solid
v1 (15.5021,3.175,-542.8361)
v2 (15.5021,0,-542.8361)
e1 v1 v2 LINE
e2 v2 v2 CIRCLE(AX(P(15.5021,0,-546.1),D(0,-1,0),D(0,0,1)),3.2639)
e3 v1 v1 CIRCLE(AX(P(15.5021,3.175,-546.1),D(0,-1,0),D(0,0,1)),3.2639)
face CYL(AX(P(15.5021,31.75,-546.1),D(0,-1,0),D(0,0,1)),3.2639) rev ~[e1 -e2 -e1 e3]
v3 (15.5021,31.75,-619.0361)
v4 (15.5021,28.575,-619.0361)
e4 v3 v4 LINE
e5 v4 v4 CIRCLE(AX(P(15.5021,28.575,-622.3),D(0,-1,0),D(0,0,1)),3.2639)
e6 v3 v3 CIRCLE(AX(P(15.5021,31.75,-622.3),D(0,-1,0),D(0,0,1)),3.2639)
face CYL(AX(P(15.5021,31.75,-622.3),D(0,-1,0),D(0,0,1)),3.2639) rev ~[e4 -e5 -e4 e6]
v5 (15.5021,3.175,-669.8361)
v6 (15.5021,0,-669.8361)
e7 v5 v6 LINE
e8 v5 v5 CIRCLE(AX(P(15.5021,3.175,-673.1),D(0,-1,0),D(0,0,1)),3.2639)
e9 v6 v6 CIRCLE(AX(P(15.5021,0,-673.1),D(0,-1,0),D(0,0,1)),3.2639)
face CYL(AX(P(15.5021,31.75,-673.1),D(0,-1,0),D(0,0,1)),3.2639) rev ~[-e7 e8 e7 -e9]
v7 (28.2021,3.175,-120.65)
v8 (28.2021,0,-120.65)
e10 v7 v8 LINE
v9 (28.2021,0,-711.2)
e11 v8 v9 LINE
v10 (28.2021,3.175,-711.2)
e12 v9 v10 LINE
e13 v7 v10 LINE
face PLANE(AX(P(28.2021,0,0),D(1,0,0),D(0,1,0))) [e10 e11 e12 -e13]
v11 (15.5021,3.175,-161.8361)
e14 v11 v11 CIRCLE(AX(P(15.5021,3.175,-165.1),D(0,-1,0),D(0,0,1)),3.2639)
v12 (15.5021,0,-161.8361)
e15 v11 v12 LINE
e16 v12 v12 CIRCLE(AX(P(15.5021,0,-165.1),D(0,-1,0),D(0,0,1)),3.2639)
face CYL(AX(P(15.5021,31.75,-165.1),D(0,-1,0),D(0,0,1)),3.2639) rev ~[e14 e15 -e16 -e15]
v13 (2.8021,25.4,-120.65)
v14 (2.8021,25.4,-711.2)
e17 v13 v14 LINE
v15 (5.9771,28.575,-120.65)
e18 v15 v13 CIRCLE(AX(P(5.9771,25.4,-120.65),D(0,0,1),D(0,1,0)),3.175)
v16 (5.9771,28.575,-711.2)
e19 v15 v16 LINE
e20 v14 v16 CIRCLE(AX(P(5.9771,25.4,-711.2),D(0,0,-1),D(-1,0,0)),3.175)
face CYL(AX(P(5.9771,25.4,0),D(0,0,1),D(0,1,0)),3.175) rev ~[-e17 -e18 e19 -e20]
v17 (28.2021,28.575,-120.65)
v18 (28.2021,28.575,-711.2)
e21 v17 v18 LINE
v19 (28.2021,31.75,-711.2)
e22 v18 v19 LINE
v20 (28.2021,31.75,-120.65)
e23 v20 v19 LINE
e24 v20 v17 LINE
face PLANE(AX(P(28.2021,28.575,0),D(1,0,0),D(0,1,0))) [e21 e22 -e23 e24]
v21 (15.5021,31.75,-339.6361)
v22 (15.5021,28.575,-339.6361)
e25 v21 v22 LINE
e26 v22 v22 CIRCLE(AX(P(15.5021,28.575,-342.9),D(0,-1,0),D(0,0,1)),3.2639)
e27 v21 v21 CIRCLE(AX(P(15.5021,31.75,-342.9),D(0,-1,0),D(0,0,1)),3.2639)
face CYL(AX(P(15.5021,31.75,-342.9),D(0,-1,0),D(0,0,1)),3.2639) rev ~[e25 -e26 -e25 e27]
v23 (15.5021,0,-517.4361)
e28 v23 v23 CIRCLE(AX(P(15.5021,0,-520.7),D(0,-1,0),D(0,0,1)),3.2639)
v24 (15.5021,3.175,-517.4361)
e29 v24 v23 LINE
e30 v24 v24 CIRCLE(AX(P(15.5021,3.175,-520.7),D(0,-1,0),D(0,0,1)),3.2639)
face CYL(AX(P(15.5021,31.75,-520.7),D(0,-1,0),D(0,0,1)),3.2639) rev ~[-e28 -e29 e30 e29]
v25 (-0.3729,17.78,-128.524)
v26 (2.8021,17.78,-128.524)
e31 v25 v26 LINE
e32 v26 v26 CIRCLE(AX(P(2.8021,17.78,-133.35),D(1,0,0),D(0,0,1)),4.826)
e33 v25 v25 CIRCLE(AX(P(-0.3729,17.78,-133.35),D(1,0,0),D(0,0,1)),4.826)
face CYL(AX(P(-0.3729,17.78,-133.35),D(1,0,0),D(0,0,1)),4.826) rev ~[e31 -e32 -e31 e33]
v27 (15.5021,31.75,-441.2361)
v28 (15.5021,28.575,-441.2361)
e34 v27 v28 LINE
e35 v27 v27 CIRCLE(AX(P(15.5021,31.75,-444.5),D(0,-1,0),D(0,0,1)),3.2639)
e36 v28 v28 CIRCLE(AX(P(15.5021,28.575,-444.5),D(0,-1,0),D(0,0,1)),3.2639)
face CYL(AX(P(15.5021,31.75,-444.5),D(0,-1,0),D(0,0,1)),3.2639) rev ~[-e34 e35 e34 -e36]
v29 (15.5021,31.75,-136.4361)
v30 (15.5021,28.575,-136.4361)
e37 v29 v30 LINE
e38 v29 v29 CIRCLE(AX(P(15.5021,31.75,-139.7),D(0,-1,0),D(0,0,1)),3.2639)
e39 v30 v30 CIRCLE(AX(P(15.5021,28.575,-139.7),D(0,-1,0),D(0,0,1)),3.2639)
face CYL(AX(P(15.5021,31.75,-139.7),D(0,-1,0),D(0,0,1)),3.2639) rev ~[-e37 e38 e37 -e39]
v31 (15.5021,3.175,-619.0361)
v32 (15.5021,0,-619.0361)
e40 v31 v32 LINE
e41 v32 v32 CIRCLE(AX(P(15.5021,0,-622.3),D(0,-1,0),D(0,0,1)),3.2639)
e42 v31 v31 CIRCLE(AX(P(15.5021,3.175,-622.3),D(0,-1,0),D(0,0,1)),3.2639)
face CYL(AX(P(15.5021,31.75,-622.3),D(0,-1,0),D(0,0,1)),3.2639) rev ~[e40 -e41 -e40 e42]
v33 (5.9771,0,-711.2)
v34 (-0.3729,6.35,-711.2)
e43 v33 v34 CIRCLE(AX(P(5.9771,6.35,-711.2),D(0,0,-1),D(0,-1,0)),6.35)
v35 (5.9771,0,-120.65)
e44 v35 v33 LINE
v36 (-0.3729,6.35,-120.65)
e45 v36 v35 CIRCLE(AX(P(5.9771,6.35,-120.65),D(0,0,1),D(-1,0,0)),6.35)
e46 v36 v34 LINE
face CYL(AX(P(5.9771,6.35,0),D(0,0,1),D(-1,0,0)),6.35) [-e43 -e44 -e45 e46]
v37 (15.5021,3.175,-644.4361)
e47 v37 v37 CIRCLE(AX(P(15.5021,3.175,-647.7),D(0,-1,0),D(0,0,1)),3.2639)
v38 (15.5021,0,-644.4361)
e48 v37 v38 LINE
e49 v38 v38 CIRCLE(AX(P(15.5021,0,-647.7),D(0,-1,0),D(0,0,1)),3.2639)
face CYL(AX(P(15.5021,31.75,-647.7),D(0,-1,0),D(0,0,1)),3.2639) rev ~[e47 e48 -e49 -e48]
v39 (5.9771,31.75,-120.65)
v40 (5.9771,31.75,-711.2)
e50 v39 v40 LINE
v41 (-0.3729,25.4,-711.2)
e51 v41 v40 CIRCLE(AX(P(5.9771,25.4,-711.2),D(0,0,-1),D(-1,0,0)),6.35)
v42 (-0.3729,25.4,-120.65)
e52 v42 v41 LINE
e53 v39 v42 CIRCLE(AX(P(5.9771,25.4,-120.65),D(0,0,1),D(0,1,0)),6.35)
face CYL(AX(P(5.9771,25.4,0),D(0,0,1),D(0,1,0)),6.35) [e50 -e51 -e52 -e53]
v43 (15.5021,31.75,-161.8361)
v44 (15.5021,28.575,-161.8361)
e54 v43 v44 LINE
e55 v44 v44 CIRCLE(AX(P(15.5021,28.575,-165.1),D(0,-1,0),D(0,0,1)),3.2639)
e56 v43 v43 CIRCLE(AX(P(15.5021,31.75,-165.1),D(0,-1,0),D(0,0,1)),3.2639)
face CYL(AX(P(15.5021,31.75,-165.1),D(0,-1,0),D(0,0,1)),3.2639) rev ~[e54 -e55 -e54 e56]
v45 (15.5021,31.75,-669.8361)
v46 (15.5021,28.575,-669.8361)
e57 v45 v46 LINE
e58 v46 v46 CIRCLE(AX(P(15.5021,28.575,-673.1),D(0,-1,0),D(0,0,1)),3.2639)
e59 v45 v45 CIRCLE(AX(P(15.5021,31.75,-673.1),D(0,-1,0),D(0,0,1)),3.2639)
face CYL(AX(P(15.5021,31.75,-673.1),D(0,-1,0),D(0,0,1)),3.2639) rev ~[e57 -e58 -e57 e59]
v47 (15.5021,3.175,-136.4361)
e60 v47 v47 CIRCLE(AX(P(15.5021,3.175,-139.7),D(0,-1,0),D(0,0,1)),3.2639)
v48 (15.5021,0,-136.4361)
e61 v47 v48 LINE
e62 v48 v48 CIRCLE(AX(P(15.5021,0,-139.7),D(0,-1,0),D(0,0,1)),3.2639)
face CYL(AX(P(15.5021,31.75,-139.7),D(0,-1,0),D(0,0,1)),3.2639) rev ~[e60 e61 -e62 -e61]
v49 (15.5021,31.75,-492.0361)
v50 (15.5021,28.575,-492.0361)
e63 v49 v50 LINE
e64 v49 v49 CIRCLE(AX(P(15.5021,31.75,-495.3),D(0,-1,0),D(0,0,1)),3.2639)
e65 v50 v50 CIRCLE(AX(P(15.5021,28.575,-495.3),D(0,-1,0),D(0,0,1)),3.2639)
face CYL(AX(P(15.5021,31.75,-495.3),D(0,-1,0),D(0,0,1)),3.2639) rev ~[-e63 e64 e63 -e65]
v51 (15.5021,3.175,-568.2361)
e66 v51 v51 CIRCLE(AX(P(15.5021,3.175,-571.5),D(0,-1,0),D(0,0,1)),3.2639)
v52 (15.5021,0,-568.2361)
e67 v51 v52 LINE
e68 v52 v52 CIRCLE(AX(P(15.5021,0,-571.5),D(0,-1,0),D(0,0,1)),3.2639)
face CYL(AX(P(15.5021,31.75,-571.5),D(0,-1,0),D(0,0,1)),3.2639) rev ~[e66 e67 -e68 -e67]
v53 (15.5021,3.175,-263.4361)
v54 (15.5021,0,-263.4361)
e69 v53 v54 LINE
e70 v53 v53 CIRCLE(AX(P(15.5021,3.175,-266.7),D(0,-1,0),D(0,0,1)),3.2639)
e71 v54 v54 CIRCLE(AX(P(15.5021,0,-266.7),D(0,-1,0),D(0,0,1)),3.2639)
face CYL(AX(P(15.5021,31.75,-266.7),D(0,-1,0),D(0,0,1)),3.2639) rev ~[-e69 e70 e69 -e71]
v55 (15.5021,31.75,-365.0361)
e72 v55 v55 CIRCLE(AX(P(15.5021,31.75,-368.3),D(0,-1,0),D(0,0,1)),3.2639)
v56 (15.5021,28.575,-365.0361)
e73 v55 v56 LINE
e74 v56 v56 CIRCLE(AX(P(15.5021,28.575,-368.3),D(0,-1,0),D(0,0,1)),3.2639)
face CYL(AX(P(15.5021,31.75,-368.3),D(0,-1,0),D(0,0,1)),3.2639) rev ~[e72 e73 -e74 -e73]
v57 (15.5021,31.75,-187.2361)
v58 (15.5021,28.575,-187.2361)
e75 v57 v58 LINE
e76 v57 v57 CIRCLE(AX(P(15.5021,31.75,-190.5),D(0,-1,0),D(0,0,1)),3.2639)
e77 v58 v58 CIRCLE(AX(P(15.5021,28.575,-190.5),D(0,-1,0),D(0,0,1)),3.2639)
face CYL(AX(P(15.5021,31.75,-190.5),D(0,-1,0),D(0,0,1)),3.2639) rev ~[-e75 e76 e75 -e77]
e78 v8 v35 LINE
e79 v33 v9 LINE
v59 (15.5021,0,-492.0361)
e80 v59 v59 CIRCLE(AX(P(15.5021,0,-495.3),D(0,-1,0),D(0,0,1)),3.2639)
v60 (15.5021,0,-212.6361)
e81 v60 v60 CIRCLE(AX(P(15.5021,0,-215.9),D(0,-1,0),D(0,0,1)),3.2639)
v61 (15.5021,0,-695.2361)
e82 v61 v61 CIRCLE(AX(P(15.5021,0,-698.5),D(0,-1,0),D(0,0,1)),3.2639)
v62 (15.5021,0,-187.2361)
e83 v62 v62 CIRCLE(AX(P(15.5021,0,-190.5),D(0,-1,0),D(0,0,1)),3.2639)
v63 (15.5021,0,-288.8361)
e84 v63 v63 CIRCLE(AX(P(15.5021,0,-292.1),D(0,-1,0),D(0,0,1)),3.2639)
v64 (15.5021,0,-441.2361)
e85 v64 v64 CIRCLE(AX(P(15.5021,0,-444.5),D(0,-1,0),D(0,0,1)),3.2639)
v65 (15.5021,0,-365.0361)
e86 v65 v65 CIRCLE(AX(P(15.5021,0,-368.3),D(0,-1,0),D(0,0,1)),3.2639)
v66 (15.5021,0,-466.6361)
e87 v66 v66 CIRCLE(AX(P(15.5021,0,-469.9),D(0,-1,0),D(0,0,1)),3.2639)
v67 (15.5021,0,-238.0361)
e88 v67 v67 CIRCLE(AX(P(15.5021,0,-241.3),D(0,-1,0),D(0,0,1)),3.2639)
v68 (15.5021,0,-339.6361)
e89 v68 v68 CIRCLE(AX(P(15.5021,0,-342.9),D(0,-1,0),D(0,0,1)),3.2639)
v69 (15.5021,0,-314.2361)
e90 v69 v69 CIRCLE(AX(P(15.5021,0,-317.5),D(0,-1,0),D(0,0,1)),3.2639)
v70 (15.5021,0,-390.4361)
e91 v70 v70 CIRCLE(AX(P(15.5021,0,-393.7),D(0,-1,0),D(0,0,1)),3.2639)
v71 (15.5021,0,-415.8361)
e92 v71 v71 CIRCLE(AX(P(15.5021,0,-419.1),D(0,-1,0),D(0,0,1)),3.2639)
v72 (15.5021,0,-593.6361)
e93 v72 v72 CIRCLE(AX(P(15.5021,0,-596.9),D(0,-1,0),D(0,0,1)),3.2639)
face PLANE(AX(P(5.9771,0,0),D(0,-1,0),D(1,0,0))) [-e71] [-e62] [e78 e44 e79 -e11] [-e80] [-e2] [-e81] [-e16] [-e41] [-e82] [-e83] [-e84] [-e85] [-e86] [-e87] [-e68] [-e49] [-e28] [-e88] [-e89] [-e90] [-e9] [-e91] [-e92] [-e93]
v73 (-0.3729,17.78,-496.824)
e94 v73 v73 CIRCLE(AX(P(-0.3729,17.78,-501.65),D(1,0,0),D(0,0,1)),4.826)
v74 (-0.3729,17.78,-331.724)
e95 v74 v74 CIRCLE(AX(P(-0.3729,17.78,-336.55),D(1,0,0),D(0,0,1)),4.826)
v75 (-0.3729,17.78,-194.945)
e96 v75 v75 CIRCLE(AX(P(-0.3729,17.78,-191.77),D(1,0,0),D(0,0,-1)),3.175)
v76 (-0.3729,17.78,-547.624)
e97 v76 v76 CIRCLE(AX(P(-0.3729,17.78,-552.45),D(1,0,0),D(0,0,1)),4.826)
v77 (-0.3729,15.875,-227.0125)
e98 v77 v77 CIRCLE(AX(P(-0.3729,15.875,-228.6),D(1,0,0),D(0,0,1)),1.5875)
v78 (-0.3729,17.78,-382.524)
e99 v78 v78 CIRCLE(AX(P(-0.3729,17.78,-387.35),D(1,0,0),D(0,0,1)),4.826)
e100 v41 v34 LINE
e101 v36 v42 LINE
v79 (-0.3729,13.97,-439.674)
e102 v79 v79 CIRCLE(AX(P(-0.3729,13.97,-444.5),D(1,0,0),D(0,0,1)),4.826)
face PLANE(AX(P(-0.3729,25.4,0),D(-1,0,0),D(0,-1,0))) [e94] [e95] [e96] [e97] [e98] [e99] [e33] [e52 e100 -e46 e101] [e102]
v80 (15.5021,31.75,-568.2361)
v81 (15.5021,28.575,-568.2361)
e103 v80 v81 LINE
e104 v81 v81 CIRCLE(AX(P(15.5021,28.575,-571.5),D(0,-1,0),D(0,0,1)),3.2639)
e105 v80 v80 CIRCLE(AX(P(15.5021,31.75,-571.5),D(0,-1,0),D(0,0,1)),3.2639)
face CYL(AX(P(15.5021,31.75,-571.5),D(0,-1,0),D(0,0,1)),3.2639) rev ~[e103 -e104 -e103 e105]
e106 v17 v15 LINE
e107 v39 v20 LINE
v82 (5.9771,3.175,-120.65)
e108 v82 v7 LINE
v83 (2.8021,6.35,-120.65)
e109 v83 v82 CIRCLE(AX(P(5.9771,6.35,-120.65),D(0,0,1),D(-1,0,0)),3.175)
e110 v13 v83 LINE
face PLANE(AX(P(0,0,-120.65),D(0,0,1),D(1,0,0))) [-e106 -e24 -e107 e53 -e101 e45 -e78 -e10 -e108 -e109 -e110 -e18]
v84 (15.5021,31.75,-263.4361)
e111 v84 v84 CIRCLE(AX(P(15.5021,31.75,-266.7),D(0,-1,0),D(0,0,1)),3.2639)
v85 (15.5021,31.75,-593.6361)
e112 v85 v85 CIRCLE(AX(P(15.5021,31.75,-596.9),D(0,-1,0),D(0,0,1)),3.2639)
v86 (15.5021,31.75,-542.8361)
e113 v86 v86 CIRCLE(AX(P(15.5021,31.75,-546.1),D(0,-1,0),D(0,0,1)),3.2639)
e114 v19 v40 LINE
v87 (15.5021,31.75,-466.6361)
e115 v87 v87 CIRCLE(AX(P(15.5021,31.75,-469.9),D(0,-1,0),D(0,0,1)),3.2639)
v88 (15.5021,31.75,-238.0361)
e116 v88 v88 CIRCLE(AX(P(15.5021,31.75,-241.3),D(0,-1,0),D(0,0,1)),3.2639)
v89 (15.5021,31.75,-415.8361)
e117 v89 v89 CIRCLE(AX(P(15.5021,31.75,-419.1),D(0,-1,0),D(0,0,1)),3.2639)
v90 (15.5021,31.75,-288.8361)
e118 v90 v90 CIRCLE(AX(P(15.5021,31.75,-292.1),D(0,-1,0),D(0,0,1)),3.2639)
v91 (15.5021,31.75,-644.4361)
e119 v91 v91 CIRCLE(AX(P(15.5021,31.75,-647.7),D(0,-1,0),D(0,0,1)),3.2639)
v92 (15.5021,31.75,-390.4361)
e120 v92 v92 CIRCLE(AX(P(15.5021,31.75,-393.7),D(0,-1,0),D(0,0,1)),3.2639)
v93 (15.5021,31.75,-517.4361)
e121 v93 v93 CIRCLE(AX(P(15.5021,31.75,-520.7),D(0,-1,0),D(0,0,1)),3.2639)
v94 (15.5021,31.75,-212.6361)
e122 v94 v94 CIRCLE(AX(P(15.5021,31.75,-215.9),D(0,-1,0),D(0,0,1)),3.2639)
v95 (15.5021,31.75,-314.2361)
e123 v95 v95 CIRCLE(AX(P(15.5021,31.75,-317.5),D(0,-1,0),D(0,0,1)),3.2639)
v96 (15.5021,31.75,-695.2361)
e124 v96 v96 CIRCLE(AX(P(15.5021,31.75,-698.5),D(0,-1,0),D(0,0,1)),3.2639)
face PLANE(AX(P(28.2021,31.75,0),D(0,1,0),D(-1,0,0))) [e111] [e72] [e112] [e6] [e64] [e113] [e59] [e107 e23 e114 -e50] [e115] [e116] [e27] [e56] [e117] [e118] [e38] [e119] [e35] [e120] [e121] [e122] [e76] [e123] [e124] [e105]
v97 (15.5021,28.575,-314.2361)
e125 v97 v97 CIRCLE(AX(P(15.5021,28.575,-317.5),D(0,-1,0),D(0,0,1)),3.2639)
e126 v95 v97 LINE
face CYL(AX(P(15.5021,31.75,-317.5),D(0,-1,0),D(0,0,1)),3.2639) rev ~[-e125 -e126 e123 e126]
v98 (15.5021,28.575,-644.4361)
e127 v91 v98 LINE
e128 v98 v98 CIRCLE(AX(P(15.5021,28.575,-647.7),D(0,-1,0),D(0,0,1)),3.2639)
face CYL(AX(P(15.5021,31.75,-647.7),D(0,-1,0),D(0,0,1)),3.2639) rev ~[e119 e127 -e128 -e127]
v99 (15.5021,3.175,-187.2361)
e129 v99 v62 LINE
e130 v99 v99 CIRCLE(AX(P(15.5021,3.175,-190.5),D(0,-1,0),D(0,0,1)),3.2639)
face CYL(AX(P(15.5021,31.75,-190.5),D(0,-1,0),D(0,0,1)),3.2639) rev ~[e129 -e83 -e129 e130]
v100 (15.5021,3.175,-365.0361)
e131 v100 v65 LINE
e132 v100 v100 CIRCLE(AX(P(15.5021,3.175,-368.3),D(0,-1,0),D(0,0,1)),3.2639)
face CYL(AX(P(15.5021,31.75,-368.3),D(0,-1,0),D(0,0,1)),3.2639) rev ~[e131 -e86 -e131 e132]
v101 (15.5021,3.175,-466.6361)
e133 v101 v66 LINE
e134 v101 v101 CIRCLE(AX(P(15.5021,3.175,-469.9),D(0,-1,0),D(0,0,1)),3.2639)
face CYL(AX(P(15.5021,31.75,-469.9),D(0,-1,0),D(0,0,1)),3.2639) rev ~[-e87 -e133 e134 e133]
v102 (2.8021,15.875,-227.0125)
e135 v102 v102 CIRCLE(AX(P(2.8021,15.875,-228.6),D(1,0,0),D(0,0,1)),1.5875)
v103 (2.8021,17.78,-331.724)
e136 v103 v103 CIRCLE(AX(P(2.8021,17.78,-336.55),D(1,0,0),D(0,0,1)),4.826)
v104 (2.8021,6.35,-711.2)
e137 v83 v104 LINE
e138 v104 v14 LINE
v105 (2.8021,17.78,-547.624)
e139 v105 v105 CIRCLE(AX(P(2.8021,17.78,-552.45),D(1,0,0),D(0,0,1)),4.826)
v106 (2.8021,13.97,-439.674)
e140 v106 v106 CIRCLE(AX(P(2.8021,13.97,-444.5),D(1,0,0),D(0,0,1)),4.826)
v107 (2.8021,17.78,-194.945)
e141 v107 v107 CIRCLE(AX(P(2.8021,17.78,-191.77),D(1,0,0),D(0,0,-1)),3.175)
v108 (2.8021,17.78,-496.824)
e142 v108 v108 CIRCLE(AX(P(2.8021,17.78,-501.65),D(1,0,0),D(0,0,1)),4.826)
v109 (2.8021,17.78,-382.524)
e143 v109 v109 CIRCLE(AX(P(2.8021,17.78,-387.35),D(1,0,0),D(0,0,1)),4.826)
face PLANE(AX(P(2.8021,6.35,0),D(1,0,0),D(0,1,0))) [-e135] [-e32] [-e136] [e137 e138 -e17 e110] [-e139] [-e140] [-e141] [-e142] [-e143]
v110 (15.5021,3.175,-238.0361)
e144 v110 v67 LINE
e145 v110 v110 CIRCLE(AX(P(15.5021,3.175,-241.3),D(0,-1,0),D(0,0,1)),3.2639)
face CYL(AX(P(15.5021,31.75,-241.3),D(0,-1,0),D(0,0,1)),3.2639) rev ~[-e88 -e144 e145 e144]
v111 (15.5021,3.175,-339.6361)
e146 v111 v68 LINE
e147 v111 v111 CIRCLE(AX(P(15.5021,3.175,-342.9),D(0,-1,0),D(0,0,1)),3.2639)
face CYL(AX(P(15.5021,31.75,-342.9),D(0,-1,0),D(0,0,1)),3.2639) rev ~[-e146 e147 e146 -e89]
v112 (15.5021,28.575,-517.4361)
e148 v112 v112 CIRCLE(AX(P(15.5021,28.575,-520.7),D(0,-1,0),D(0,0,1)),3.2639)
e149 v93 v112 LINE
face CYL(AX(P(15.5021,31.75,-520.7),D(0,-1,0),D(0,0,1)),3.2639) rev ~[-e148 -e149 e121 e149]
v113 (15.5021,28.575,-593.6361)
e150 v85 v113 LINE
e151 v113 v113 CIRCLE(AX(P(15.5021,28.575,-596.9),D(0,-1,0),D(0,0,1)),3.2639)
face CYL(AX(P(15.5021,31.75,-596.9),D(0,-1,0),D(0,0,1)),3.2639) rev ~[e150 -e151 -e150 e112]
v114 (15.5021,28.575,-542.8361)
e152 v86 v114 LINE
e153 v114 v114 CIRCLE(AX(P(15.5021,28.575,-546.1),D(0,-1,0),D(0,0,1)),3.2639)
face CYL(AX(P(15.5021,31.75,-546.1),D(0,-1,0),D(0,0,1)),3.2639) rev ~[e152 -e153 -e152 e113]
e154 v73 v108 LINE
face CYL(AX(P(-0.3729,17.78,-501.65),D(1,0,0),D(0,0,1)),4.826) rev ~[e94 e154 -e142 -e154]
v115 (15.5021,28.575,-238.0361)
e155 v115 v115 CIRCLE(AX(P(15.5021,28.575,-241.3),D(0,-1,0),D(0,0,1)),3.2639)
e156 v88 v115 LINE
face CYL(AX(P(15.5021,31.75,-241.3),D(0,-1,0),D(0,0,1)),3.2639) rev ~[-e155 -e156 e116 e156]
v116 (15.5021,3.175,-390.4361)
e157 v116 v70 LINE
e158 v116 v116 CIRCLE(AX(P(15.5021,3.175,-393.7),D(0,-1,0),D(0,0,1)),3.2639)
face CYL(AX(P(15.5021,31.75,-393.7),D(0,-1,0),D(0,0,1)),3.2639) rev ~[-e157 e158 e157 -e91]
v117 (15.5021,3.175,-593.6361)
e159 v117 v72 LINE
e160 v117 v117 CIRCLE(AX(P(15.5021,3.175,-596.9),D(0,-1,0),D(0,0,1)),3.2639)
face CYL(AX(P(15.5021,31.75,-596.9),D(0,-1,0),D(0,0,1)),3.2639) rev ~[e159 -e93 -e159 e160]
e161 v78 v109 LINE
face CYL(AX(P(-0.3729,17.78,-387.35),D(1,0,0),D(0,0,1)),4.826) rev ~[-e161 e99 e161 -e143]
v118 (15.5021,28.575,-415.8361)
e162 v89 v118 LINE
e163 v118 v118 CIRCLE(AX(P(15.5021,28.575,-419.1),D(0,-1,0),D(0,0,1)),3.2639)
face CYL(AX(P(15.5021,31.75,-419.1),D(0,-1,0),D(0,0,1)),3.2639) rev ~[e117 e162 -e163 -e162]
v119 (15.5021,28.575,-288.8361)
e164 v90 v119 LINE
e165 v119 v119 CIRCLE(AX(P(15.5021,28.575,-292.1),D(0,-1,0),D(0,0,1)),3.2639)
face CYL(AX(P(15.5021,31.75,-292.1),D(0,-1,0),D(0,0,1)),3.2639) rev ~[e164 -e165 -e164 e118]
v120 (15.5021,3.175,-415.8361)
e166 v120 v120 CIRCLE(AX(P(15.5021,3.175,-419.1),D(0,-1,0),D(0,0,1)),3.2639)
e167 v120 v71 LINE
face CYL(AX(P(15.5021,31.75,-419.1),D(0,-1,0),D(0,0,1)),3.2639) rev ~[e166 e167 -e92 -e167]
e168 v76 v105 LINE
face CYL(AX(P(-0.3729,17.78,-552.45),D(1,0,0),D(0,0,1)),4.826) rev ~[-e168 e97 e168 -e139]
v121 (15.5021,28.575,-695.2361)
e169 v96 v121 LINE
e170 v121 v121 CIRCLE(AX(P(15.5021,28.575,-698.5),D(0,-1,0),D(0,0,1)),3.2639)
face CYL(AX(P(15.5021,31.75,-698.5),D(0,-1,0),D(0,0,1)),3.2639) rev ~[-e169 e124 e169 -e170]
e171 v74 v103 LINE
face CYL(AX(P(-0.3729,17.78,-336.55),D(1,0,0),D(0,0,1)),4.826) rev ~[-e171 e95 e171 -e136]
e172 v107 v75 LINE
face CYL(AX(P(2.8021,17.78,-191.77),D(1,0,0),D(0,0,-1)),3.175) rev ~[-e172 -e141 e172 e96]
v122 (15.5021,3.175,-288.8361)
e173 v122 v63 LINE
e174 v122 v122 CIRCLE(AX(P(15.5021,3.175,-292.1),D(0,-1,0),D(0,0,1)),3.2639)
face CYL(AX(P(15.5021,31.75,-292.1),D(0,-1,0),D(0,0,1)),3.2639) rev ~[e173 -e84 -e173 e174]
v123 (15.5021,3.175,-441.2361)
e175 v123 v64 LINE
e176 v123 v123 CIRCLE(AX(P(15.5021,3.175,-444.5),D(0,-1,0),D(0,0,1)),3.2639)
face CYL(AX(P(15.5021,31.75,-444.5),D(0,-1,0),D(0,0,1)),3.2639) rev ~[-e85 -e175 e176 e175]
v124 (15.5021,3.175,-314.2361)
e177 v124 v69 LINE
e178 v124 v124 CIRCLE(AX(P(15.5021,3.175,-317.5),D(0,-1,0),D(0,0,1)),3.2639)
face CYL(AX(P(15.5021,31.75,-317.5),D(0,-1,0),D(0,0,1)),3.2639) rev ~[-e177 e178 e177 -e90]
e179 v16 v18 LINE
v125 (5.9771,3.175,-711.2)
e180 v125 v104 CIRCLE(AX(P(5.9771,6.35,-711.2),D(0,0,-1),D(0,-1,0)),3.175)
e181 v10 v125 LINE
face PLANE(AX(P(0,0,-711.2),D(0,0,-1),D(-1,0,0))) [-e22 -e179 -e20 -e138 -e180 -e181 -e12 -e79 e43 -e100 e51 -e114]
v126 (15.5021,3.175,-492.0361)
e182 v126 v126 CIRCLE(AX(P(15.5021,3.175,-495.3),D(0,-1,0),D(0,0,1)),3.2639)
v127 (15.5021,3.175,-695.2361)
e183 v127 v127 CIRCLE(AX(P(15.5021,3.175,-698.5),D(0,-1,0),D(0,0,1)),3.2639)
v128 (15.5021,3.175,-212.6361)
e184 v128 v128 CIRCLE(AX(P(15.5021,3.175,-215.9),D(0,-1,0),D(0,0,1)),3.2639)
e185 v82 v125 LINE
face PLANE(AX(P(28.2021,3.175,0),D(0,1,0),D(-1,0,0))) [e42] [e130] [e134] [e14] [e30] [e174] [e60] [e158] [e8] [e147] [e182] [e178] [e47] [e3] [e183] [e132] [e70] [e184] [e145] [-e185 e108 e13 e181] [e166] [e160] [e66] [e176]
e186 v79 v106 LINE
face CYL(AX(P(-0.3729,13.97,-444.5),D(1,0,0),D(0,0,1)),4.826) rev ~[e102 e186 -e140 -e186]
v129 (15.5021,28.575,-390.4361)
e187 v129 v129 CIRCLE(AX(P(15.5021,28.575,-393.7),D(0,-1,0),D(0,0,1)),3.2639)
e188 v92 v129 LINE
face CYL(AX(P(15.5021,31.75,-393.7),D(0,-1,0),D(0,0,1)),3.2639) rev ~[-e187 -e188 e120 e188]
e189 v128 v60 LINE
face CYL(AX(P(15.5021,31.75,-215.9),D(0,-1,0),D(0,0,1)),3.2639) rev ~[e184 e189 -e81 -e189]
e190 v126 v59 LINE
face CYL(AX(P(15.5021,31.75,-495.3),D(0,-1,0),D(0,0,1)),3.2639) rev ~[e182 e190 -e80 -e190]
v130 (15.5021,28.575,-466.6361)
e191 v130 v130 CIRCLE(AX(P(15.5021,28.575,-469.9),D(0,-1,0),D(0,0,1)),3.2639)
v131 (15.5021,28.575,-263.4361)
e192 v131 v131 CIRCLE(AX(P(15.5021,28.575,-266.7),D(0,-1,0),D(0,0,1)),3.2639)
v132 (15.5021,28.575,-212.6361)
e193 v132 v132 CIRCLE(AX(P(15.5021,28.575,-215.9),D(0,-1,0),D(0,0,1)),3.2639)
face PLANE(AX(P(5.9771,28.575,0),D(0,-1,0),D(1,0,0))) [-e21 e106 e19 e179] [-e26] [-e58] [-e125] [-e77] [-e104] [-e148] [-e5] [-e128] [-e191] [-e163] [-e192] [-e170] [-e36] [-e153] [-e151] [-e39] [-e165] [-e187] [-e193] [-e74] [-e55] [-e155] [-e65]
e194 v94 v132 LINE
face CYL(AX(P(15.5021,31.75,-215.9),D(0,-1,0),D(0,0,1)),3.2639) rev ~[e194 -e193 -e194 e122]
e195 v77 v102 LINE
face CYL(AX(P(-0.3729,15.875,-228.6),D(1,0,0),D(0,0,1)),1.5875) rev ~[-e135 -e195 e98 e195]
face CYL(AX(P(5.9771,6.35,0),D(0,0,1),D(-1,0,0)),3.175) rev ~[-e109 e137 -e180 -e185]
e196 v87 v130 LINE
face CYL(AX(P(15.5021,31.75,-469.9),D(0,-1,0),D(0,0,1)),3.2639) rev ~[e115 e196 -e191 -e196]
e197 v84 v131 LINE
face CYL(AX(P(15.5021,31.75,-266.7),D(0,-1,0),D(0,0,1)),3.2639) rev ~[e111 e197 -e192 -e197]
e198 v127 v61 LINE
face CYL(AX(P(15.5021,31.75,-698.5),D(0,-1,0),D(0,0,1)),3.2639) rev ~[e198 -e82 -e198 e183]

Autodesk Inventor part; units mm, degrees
ref_plane "YZ Plane" through (0, 0, 0) normal (1, 0, 0) x (0, 1, 0)
ref_plane "XZ Plane" through (0, 0, 0) normal (0, 1, 0) x (-1, 0, 0)
ref_plane "XY Plane" through (0, 0, 0) normal (0, 0, 1) x (1, 0, 0)
sketch "Sketch1" plane through (0, 0, 0) normal (0, 0, 1) x (1, 0, 0)
  line L0 (5.9771, 0) -> (28.2021, 0)
  line L1 (28.2021, 0) -> (28.2021, 3.175)
  line L2 (28.2021, 3.175) -> (5.9771, 3.175)
  line L3 (2.8021, 6.35) -> (2.8021, 25.4)
  line L4 (5.9771, 28.575) -> (28.2021, 28.575)
  line L5 (28.2021, 28.575) -> (28.2021, 31.75)
  line L6 (28.2021, 31.75) -> (5.9771, 31.75)
  line L7 (-0.3729, 25.4) -> (-0.3729, 6.35)
  arc A0 (5.9771, 28.575) -> (2.8021, 25.4) centre (5.9771, 25.4) ccw
  arc A1 (2.8021, 6.35) -> (5.9771, 3.175) centre (5.9771, 6.35) ccw
  arc A2 (5.9771, 31.75) -> (-0.3729, 25.4) centre (5.9771, 25.4) ccw
  arc A3 (-0.3729, 6.35) -> (5.9771, 0) centre (5.9771, 6.35) ccw
  point P0 (0, 0)
  point P1 (-0.3729, 0)
  point P2 (2.8021, 3.175)
  point P3 (2.8021, 28.575)
  dimension "d0" = 28.575
  dimension "d1" = 3.175
  dimension "d2" = 25.4
  dimension "d3" = 25.4
  dimension "d4" = 3.175
  dimension "d5" = 3.175
  dimension "d6" = 6.35
extrude "Extrusion1" add sketch "Sketch1" against normal blind 889
sketch "Sketch2" plane through (-0.3729, 6.35, 0) normal (-1, 0, 0) x (0, 0, 1)
  line L0 (0, 19.05) -> (-889, 19.05) projected
  line L1 (-228.6, 0) -> (-228.6, 7.9375)
  arc A0 (-228.6, 11.1125) -> (-228.6, 7.9375) centre (-228.6, 9.525) ccw
  line L2 (-228.6, 11.1125) -> (-228.6, 19.05)
  line L3 (-228.6, 19.05) -> (-889, 19.05)
  line L4 (-889, 0) -> (-889, 19.05)
  line L5 (-889, 0) -> (-228.6, 0)
  circle A1 centre (-552.45, 11.43) radius 4.826
  circle A2 centre (-501.65, 11.43) radius 4.826
  circle A3 centre (-387.35, 11.43) radius 4.826
  circle A4 centre (-336.55, 11.43) radius 4.826
  circle A5 centre (-444.5, 7.62) radius 4.826
  circle A6 centre (-730.25, 11.43) radius 4.826
  circle A7 centre (-781.05, 11.43) radius 4.826
  line L6 (0, 25.4) -> (-889, 25.4) construction
  circle A8 centre (-133.35, 11.43) radius 4.826
  circle A9 centre (-82.55, 11.43) radius 4.826
  point P0 (0, -6.35)
  point P1 (-254, 0.852)
  dimension "d10" = 7.62
  dimension "d11" = 3.81
  dimension "d14" = 254
hole "Hole1" at (-0.3729, 17.78, -781.05) at (-0.3729, 17.78, -730.25) at (-0.3729, 17.78, -552.45) at (-0.3729, 17.78, -501.65) at (-0.3729, 13.97, -444.5) at (-0.3729, 17.78, -387.35) at (-0.3729, 17.78, -336.55) at (-0.3729, 17.78, -133.35) at (-0.3729, 17.78, -82.55) direction (1, 0, 0) diameter 9.652 end through all
hole "Hole2" at (-0.3729, 15.875, -228.6) direction (1, 0, 0) diameter 3.175 end through all
sketch "Sketch3" plane through (5.9771, 31.75, 0) normal (0, 1, 0) x (1, 0, 0)
  line L0 (22.225, 889) -> (0, 889) projected
  line L1 (22.225, 0) -> (22.225, 889) projected
  point P0 (-5.9771, 0)
  point P1 (9.525, 876.3)
  dimension "d34" = 12.7
  dimension "d35" = 12.7
hole "Hole3" at (15.5021, 31.75, -876.3) direction (0, -1, 0) diameter 6.5278 end through all
pattern_linear "Rectangular Pattern1" count 35 spacing 25.4 along (0, 0, 1) of "Hole3"
sketch "Sketch4" plane through (0, 0, 0) normal (0, 0, 1) x (1, 0, 0)
  line L0 (28.2021, 0) -> (5.9771, 0) projected
  line L1 (28.2021, 3.175) -> (28.2021, 0) projected
  line L2 (5.9771, 3.175) -> (28.2021, 3.175) projected
  arc A0 (2.8021, 6.35) -> (5.9771, 3.175) centre (5.9771, 6.35) ccw projected
  line L3 (2.8021, 25.4) -> (2.8021, 6.35) projected
  arc A1 (5.9771, 28.575) -> (2.8021, 25.4) centre (5.9771, 25.4) ccw projected
  line L4 (28.2021, 28.575) -> (5.9771, 28.575) projected
  line L5 (28.2021, 31.75) -> (28.2021, 28.575) projected
  line L6 (5.9771, 31.75) -> (28.2021, 31.75) projected
  arc A2 (5.9771, 31.75) -> (-0.3729, 25.4) centre (5.9771, 25.4) ccw projected
  line L7 (-0.3729, 6.35) -> (-0.3729, 25.4) projected
  arc A3 (-0.3729, 6.35) -> (5.9771, 0) centre (5.9771, 6.35) ccw projected
  point P0 (0, 0)
extrude "Extrusion2" cut sketch "Sketch4" against normal blind 120.65
sketch "Sketch5" plane through (0, 0, -889) normal (0, 0, -1) x (-1, 0, 0)
  line L0 (-28.2021, 0) -> (-28.2021, 3.175) projected
  line L1 (-5.9771, 0) -> (-28.2021, 0) projected
  arc A0 (-5.9771, 0) -> (0.3729, 6.35) centre (-5.9771, 6.35) ccw projected
  line L2 (0.3729, 25.4) -> (0.3729, 6.35) projected
  arc A1 (0.3729, 25.4) -> (-5.9771, 31.75) centre (-5.9771, 25.4) ccw projected
  line L3 (-28.2021, 31.75) -> (-5.9771, 31.75) projected
  line L4 (-28.2021, 28.575) -> (-28.2021, 31.75) projected
  line L5 (-5.9771, 28.575) -> (-28.2021, 28.575) projected
  arc A2 (-2.8021, 25.4) -> (-5.9771, 28.575) centre (-5.9771, 25.4) ccw projected
  line L6 (-2.8021, 6.35) -> (-2.8021, 25.4) projected
  arc A3 (-5.9771, 3.175) -> (-2.8021, 6.35) centre (-5.9771, 6.35) ccw projected
  line L7 (-28.2021, 3.175) -> (-5.9771, 3.175) projected
  point P0 (0, 0)
extrude "Extrusion3" cut sketch "Sketch5" against normal blind 177.8
sketch "Sketch6" plane through (2.8021, 6.35, -120.65) normal (1, 0, 0) x (0, 0, -1)
  circle A0 centre (41.91, 11.43) radius 34.925 construction
  circle A1 centre (21.2554, -9.2246) radius 3.175 construction
  circle A2 centre (12.7, 11.43) radius 3.175 construction
  circle A3 centre (21.2554, 32.0846) radius 3.175 construction
  circle A4 centre (41.91, 40.64) radius 3.175 construction
  circle A5 centre (62.5646, 32.0846) radius 3.175 construction
  circle A6 centre (71.12, 11.43) radius 3.175 projected
  circle A7 centre (62.5646, -9.2246) radius 3.175 construction
  circle A8 centre (41.91, -17.78) radius 3.175 construction
  circle A9 centre (41.91, 11.43) radius 22.86 construction
  point P0 (-120.65, -6.35)
extrude "Extrusion4" cut sketch "Sketch6" against normal through all
equation "\"d35\" = d34"
properties part number "Center of Mass Shifter Arm - Chassis_Channel_AndyMark"
